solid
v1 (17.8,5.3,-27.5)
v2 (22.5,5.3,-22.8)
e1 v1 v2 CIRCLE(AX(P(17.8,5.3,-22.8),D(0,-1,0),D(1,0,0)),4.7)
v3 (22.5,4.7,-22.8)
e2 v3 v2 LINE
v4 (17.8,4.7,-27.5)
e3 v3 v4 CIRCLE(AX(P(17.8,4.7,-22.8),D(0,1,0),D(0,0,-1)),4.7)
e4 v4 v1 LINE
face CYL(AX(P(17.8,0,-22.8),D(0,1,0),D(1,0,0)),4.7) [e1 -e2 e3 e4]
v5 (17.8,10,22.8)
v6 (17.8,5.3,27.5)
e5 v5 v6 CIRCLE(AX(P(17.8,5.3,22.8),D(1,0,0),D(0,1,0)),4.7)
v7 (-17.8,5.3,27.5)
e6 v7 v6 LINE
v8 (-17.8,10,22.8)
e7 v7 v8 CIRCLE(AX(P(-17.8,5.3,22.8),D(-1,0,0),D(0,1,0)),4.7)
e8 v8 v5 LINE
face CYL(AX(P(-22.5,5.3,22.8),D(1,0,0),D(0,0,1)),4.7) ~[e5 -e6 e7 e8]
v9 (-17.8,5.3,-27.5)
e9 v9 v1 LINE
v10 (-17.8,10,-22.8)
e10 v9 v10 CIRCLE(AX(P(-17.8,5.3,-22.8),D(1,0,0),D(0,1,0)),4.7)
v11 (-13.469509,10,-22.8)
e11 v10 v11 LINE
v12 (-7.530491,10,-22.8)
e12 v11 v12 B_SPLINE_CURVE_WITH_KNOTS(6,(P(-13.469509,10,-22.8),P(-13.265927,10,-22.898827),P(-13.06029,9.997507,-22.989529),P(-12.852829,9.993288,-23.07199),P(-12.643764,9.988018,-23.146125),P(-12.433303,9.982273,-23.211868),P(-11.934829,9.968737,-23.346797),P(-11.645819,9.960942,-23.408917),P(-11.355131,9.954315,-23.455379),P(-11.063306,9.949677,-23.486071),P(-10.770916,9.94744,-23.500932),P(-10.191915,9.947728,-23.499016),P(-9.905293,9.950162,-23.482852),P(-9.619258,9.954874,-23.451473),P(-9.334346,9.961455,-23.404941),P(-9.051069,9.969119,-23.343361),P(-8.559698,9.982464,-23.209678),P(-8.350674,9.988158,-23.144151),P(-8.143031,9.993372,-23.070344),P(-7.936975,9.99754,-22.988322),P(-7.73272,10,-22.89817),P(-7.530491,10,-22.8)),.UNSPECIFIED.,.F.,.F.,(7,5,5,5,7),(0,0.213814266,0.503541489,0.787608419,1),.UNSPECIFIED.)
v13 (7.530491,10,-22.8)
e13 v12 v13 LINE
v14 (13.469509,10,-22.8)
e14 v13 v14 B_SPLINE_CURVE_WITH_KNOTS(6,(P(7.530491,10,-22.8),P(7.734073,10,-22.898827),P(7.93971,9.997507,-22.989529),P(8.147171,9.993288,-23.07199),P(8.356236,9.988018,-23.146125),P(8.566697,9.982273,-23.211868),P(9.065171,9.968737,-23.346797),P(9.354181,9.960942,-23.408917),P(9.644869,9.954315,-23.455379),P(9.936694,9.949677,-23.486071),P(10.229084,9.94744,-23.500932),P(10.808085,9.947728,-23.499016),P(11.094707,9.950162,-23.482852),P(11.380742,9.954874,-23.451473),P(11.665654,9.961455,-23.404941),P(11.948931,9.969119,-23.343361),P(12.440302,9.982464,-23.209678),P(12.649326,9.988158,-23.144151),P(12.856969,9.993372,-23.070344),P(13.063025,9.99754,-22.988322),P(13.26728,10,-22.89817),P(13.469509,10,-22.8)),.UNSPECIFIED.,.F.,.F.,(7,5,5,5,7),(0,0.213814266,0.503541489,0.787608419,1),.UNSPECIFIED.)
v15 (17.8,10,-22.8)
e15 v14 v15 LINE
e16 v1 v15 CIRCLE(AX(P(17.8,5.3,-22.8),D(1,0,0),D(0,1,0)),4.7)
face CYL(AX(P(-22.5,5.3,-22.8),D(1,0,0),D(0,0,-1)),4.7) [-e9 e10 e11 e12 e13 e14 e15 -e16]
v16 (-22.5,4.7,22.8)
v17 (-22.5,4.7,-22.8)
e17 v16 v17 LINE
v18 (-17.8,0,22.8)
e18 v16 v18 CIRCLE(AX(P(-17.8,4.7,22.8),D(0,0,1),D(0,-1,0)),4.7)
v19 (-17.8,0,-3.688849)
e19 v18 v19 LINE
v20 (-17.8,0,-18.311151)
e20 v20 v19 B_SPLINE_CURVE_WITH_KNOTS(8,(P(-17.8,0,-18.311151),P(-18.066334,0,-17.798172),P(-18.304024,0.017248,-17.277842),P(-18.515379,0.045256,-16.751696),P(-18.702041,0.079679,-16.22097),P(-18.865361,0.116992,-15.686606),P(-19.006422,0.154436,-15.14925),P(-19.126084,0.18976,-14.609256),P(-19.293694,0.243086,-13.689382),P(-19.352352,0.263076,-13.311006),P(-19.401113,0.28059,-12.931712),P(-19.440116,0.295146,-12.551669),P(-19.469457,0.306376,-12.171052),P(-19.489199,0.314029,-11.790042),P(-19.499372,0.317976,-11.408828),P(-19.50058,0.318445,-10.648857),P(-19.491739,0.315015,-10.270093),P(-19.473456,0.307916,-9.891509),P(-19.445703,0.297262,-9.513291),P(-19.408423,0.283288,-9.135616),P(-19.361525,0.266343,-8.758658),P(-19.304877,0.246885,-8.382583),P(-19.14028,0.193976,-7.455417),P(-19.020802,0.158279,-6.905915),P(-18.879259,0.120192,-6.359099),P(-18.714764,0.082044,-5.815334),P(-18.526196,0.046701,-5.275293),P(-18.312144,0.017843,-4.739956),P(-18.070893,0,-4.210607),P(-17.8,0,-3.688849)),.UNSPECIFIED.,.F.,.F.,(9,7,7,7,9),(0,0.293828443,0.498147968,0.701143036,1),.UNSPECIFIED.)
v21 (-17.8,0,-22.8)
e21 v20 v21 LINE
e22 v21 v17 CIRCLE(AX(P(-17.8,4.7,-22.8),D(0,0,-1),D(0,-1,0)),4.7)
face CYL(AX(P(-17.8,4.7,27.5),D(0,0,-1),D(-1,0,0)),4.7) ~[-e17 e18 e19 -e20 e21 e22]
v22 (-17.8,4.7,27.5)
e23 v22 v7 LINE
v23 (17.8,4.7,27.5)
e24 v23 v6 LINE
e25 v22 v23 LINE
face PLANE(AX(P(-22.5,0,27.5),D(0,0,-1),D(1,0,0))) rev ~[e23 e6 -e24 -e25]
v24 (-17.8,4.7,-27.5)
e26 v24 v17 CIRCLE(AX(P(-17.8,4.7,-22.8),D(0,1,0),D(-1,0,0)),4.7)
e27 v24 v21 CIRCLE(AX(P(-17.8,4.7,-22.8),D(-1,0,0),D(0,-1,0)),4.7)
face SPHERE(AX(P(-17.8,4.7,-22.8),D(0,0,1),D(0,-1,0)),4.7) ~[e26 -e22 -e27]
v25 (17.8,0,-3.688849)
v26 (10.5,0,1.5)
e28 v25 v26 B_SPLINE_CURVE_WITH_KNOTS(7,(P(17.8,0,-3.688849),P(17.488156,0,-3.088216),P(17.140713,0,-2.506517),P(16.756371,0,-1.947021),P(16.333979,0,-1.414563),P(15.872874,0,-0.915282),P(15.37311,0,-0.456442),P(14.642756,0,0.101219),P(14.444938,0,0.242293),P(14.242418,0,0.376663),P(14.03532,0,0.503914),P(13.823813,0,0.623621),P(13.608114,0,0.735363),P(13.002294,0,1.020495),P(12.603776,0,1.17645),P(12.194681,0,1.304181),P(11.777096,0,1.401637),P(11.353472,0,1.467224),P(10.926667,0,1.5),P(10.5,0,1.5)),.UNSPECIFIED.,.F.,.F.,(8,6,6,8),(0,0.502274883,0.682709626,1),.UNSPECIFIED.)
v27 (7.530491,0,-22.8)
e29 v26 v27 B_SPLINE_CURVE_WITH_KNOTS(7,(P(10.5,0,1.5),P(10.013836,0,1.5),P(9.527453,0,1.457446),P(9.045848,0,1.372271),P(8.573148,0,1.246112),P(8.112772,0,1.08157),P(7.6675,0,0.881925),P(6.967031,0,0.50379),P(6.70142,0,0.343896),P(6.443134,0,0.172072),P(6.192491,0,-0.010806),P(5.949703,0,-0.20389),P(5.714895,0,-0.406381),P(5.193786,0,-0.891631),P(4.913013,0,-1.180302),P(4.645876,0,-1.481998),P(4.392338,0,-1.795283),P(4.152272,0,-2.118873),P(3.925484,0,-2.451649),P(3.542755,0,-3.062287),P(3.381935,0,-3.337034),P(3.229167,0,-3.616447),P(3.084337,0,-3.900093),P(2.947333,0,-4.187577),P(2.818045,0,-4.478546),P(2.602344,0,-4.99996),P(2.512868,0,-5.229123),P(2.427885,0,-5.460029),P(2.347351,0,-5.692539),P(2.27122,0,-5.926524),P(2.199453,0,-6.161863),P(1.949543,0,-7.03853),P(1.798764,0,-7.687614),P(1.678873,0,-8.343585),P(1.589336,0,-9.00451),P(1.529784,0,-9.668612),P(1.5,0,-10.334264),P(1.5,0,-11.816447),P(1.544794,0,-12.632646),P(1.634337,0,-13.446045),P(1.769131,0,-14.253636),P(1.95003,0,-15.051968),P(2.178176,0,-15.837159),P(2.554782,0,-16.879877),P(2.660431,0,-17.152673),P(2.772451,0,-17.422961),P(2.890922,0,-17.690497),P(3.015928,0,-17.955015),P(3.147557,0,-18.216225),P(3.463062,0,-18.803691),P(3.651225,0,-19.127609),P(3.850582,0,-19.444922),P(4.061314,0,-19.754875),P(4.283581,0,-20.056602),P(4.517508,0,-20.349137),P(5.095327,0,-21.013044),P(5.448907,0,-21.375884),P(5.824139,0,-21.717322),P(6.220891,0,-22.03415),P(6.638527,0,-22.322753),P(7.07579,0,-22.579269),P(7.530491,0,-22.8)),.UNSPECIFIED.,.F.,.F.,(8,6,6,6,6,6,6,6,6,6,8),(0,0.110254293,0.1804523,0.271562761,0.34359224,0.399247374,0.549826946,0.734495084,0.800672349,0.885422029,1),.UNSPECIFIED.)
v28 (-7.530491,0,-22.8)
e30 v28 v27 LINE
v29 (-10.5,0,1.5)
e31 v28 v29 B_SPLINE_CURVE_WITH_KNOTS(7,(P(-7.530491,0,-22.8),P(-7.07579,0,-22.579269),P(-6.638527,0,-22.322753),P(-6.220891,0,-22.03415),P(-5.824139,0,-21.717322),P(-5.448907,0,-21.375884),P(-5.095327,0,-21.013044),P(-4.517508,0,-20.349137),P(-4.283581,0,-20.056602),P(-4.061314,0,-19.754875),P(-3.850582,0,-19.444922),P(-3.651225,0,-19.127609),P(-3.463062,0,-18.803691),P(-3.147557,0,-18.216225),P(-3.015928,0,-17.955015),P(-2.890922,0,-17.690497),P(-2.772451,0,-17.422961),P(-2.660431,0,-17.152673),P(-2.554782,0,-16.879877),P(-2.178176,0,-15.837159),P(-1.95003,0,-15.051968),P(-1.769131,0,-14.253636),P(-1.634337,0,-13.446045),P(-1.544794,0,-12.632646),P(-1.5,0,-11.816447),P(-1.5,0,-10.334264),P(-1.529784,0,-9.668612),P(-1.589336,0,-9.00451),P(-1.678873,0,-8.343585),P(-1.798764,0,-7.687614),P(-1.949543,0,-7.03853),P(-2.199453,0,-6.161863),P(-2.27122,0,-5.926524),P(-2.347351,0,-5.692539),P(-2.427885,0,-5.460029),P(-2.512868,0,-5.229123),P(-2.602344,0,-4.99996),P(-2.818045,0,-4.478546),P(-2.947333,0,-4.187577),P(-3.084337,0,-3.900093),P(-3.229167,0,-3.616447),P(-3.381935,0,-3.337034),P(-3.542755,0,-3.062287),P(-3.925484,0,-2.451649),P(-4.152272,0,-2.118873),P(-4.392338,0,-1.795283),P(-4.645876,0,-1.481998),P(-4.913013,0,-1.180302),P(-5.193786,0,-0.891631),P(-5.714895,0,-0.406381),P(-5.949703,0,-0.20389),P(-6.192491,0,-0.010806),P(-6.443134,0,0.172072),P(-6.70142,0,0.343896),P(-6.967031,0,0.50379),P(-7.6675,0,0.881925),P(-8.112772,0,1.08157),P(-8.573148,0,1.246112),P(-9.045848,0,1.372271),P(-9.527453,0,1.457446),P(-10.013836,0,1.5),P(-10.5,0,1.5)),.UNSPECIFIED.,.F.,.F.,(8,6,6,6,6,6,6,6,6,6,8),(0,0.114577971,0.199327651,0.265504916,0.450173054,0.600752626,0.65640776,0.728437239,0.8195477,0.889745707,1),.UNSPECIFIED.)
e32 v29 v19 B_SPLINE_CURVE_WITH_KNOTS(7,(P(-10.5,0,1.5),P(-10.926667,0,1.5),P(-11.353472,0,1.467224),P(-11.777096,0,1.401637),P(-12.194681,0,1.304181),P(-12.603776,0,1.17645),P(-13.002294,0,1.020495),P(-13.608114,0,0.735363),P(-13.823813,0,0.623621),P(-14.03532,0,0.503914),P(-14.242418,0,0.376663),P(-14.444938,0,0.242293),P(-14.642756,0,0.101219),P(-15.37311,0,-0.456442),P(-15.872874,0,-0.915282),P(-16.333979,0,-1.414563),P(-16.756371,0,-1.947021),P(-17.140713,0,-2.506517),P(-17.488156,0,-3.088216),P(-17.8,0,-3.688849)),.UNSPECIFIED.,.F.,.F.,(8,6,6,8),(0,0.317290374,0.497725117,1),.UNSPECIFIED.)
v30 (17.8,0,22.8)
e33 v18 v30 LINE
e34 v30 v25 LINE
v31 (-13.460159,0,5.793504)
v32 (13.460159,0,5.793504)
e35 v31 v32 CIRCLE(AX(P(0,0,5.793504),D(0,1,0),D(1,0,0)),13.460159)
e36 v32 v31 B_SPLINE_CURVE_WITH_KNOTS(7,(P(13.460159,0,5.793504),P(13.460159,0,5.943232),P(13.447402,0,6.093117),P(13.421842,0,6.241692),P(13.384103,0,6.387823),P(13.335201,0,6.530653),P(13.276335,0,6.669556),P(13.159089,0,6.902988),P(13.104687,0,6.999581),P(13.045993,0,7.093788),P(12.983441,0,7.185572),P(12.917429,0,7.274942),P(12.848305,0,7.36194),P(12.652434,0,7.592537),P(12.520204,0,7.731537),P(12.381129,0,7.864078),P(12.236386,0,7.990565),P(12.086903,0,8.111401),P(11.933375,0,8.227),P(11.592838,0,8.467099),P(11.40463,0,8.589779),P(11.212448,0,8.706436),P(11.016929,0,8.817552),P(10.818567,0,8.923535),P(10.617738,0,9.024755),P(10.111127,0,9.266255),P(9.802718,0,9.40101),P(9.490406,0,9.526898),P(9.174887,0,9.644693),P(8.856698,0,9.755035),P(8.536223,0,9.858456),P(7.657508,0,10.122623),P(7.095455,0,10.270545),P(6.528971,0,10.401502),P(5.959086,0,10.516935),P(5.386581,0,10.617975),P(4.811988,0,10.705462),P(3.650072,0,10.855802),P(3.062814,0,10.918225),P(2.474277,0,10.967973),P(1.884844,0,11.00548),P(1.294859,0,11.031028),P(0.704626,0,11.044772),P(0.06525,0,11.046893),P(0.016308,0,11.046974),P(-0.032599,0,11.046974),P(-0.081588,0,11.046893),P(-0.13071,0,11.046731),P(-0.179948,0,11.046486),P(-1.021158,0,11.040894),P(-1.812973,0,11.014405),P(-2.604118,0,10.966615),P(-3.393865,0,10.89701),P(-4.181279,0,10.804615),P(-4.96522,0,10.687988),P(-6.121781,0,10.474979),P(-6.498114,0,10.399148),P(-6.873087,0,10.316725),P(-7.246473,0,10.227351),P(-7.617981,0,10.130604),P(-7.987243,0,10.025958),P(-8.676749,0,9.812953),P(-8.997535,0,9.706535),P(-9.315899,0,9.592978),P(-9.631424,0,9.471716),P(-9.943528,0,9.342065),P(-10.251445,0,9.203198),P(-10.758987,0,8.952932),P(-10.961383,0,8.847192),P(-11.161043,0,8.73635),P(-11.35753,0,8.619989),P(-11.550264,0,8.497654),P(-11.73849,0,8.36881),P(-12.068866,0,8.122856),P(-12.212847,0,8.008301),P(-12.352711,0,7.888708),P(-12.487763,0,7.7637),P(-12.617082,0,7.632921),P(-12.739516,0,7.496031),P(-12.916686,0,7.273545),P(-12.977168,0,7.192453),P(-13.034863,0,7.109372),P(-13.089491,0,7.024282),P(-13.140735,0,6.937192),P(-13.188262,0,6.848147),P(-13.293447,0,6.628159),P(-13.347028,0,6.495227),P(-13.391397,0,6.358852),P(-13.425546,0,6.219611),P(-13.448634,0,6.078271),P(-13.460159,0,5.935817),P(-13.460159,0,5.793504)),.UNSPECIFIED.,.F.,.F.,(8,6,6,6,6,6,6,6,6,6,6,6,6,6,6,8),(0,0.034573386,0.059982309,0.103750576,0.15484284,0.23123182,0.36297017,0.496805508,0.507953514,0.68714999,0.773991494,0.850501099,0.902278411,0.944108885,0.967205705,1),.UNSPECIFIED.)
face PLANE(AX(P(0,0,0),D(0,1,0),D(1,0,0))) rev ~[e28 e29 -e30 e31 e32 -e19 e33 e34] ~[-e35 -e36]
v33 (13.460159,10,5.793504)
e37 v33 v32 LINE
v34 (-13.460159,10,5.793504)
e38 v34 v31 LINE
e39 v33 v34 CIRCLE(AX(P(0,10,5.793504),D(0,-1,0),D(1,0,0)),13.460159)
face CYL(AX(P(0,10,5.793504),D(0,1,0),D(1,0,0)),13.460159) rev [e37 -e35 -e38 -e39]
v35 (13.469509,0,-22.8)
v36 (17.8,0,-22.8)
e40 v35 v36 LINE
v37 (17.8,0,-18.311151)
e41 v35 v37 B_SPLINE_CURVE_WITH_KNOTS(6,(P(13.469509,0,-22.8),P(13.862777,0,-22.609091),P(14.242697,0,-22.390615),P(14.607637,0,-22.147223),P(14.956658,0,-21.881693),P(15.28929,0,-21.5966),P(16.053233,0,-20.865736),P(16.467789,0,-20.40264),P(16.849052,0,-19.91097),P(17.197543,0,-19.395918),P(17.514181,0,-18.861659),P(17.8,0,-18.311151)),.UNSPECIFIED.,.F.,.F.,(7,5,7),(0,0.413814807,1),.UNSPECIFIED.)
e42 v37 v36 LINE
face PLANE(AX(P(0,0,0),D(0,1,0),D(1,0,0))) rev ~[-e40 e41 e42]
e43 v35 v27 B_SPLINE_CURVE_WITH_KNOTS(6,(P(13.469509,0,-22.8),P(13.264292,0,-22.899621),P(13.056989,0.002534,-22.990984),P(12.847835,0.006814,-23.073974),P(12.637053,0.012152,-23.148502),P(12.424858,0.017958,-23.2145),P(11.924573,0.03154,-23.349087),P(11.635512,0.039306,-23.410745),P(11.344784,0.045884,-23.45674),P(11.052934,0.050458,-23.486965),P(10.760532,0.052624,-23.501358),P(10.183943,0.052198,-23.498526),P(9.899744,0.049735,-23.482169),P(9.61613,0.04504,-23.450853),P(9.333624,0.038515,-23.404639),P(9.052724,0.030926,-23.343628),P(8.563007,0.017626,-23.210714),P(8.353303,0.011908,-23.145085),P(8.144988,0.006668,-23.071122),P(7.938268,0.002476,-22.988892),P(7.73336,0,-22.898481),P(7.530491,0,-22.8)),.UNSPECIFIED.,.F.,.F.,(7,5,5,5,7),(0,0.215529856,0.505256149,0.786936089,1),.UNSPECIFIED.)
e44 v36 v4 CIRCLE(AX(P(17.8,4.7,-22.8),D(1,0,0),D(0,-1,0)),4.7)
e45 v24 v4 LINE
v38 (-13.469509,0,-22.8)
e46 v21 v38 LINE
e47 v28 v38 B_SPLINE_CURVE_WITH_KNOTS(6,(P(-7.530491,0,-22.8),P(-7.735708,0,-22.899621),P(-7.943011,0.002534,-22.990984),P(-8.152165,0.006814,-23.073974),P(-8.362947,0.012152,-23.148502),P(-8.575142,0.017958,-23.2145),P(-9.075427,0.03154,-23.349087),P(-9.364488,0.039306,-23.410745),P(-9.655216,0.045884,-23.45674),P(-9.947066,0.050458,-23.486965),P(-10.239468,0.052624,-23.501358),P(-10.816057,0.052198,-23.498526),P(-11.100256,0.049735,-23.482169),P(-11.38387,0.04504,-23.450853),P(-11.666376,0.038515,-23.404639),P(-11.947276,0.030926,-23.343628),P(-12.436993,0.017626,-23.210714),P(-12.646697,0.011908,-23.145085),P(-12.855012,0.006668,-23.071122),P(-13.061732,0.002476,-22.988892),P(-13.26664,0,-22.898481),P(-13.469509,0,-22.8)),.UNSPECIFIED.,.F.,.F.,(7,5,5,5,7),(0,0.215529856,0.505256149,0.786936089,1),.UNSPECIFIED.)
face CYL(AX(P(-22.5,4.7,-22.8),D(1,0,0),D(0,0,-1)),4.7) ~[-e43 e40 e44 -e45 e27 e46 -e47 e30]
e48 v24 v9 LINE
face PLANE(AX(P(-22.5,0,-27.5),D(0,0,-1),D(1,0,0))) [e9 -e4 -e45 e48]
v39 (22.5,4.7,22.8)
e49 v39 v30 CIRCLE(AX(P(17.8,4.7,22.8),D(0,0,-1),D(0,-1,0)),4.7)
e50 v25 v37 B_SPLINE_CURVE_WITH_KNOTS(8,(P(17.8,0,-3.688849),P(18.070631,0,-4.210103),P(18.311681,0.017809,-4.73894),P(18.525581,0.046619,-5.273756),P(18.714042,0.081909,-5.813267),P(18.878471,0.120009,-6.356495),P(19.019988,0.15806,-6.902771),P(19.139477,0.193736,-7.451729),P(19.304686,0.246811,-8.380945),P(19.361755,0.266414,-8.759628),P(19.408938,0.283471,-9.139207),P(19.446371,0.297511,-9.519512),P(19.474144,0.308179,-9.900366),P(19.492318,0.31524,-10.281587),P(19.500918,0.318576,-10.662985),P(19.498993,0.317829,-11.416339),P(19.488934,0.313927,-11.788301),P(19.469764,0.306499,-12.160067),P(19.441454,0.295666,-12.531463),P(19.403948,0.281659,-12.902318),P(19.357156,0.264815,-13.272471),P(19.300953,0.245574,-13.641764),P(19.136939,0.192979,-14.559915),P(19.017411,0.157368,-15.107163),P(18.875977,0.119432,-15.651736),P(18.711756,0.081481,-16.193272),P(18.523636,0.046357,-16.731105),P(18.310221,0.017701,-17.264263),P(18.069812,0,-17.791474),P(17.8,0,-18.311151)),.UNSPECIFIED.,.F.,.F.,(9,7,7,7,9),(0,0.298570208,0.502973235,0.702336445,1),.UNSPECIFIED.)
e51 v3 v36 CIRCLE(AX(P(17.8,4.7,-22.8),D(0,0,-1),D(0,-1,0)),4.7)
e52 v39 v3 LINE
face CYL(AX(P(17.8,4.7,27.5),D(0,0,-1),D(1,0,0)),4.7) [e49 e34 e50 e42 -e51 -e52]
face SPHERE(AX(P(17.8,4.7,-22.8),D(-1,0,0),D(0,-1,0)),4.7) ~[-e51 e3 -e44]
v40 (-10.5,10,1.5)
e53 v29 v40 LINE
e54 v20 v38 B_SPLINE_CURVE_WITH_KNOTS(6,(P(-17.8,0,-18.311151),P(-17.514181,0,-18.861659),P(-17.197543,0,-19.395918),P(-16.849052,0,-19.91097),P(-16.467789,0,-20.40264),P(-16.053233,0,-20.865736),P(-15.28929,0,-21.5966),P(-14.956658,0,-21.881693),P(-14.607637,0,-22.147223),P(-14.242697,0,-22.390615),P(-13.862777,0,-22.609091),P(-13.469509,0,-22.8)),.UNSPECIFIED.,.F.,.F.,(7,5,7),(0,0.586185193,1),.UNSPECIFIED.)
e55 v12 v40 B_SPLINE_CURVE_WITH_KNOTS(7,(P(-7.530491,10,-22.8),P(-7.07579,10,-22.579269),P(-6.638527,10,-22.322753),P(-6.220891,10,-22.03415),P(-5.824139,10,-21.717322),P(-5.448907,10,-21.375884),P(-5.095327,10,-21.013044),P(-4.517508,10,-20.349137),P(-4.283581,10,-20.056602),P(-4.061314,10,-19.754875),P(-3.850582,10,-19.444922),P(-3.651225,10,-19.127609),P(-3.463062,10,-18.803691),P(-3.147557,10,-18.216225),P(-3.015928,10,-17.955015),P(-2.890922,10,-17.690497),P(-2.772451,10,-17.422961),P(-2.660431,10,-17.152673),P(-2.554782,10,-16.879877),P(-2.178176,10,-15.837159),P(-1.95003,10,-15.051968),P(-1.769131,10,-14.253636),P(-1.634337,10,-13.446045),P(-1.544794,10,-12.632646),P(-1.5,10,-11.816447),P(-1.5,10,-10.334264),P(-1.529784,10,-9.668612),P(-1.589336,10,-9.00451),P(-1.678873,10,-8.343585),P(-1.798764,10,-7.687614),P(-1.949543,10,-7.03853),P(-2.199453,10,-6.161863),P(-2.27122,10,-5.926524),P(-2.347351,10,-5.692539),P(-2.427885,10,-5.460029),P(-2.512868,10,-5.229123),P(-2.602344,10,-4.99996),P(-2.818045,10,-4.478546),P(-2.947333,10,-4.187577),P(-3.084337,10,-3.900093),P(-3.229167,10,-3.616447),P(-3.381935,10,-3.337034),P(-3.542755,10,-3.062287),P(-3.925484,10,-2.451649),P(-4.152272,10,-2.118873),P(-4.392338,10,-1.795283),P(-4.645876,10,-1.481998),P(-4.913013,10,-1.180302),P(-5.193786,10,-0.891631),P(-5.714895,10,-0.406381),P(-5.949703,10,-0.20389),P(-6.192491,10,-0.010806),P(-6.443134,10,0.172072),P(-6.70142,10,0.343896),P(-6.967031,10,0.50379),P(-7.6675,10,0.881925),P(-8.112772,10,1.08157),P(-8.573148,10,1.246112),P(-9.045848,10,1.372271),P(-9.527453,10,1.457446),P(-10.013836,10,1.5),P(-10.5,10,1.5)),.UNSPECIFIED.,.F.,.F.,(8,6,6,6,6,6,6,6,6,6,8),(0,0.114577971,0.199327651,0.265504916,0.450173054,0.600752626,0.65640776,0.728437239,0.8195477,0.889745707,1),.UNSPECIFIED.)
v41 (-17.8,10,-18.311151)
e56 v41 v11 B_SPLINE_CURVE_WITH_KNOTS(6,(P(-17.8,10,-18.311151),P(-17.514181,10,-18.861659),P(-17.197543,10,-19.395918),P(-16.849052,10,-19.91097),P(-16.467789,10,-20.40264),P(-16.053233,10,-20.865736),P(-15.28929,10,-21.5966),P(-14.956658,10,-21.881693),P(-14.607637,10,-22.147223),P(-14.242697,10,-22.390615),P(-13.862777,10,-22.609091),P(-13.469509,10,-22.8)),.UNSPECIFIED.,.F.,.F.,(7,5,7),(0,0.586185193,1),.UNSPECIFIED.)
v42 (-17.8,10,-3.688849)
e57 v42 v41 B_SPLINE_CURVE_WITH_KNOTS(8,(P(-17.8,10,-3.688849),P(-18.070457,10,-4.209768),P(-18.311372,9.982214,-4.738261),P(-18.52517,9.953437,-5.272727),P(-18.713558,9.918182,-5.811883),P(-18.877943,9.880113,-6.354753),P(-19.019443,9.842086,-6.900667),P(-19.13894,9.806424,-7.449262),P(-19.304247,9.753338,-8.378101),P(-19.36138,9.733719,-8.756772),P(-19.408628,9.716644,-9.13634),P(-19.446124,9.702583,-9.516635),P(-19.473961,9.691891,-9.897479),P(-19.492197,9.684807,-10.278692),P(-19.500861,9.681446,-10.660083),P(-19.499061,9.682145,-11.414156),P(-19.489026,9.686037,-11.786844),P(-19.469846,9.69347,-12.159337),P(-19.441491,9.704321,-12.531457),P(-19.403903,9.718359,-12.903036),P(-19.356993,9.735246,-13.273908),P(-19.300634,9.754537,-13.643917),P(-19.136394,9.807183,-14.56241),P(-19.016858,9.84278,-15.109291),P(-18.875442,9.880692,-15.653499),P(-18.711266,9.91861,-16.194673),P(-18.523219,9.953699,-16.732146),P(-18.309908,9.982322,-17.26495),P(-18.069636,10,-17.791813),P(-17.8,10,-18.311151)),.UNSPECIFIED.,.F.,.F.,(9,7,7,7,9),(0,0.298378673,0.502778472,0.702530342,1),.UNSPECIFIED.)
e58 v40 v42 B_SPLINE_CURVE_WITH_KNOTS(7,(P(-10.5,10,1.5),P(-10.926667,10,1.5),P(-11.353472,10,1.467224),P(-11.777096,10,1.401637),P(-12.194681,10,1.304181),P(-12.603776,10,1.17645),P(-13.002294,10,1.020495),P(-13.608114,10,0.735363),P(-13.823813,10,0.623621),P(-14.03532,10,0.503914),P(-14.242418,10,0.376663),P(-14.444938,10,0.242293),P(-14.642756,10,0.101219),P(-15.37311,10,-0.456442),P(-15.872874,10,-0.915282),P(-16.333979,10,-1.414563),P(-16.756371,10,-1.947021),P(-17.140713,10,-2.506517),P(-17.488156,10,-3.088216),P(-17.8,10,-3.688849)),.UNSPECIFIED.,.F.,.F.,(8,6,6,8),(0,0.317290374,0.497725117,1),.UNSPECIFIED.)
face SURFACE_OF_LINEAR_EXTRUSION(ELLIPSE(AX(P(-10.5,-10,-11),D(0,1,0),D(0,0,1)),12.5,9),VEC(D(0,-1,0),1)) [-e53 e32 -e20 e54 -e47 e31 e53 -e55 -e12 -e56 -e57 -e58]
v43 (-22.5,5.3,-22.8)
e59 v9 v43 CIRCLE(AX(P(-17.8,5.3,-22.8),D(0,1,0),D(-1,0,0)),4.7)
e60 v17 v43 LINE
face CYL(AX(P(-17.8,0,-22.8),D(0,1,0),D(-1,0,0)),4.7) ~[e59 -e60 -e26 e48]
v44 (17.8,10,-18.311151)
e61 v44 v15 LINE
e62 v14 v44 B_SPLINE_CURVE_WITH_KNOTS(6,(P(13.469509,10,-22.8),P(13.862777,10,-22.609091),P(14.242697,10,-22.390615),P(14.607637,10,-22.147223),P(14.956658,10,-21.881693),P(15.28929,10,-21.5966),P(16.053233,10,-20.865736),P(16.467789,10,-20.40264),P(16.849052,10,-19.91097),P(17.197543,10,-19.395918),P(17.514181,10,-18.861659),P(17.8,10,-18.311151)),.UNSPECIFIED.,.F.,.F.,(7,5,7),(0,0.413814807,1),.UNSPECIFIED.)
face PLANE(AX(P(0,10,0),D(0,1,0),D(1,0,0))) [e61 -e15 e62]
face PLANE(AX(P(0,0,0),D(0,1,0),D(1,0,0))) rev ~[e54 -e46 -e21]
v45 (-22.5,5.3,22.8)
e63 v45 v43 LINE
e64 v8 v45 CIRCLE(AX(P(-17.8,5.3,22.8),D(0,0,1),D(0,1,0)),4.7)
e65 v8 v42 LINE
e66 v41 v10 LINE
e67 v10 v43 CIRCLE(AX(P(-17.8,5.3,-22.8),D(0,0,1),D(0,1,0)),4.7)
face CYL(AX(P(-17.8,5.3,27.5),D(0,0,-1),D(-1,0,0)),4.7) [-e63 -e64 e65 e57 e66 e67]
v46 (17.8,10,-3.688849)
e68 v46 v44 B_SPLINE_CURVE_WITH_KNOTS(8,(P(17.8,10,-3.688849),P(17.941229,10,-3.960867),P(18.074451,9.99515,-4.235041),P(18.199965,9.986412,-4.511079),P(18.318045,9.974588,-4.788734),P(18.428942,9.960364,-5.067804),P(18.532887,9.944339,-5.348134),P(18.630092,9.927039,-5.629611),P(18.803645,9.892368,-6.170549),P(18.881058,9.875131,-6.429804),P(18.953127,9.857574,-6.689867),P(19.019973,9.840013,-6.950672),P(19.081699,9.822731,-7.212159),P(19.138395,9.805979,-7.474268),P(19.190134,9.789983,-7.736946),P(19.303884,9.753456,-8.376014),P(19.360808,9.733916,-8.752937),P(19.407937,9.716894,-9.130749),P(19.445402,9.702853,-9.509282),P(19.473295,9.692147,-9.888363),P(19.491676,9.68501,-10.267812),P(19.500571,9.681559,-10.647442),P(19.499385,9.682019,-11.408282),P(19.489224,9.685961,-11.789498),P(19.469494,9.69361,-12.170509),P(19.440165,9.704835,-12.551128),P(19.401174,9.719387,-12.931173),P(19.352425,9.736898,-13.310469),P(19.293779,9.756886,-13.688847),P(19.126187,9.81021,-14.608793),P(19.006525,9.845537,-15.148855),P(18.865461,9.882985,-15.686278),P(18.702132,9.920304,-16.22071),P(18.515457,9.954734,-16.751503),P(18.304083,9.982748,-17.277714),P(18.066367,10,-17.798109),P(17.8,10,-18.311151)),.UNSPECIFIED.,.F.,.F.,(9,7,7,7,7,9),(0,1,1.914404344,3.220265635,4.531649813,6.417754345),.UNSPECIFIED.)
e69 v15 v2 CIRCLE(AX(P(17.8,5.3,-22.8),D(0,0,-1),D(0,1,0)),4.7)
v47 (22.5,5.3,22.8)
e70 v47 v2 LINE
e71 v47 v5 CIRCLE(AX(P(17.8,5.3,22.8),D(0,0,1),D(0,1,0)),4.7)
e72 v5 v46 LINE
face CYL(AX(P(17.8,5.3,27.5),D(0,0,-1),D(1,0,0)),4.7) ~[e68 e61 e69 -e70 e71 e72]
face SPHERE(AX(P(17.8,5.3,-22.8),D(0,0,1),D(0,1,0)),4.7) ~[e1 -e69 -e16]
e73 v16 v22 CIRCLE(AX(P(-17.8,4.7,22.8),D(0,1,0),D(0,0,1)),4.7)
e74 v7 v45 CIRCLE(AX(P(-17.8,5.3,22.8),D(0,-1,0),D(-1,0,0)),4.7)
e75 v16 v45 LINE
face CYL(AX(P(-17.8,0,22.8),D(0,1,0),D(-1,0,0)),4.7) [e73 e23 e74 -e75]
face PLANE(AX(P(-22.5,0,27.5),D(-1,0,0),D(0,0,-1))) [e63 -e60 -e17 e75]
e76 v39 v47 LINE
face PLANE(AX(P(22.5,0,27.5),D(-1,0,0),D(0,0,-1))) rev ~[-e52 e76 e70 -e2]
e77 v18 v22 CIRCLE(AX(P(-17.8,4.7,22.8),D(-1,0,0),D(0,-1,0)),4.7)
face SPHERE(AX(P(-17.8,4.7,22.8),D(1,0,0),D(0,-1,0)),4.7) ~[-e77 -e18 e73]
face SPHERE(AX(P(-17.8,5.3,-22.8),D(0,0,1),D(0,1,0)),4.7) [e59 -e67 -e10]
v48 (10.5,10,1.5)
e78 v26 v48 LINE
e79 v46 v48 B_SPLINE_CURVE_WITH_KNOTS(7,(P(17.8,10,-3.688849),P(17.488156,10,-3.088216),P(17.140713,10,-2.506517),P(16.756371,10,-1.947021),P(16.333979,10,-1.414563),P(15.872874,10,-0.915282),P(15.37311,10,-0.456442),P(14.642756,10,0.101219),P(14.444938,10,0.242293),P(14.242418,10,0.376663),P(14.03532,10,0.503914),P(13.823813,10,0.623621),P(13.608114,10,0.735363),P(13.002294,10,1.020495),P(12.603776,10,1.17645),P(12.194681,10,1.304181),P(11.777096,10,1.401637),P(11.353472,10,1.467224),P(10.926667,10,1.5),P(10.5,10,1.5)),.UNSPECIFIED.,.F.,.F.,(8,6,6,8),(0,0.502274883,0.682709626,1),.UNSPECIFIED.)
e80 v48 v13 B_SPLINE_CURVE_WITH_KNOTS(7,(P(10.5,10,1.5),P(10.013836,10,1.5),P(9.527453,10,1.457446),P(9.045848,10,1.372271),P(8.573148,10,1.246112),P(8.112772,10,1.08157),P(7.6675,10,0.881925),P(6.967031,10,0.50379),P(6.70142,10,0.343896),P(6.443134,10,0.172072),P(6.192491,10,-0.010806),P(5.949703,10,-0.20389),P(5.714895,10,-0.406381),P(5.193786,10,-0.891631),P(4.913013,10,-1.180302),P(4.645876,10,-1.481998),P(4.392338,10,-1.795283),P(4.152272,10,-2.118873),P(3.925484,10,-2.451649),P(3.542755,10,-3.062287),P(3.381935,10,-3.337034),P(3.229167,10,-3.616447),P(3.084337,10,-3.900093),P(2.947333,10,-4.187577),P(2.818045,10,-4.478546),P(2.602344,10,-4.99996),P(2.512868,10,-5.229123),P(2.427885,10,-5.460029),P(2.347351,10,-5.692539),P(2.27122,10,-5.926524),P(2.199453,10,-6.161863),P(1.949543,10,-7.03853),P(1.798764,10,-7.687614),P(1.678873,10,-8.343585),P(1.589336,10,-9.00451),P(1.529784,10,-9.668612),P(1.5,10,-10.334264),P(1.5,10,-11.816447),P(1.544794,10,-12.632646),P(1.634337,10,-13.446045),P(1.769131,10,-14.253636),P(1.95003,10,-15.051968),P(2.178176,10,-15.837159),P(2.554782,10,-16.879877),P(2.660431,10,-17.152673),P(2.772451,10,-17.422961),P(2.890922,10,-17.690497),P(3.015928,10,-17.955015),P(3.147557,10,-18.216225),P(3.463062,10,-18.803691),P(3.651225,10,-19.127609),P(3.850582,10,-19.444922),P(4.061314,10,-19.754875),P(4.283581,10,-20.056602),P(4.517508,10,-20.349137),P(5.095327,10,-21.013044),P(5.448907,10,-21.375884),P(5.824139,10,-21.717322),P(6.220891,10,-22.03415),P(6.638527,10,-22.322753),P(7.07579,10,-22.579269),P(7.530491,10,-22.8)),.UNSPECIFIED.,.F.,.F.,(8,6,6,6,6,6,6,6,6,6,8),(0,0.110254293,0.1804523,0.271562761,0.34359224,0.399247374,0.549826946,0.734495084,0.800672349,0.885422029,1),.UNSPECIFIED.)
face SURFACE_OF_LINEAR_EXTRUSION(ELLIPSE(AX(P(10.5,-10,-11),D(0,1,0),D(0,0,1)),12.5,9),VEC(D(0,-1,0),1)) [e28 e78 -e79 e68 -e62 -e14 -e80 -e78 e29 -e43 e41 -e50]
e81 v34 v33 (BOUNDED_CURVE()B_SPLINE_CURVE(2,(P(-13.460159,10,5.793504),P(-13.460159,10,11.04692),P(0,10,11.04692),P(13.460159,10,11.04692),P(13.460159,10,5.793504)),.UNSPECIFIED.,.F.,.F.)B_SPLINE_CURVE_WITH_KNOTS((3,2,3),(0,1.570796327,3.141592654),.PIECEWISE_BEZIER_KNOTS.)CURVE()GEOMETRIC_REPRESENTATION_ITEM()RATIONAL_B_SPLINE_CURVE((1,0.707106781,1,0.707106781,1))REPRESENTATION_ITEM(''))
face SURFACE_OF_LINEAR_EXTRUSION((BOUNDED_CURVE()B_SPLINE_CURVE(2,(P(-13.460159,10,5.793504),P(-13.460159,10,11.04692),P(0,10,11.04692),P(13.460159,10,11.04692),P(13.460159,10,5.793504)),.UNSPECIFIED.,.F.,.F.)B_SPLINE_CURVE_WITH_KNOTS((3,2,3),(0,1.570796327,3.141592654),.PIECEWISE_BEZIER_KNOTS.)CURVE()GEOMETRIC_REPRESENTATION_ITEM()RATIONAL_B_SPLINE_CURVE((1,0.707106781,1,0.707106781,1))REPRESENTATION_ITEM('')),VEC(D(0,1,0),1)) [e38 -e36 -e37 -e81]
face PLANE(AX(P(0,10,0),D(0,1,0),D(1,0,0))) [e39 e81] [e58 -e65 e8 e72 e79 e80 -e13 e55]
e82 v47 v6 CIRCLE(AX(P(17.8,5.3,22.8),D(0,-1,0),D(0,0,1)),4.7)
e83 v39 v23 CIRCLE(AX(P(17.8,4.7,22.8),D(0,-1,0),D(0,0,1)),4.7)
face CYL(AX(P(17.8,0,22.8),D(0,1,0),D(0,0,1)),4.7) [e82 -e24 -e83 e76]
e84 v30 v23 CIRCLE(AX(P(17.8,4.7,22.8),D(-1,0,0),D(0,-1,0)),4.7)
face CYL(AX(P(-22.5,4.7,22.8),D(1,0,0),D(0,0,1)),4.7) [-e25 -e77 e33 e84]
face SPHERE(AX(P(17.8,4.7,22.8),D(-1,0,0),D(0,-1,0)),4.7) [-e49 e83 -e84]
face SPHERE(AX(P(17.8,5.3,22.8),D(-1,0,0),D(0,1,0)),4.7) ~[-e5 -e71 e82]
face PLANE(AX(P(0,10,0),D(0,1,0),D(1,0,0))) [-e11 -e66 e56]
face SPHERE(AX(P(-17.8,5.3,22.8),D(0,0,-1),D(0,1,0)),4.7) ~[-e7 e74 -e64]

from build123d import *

# Parameters (mm, degrees)
SCHIZZO1_W                    = 45
SCHIZZO1_H                    = 55
ESTRUSIONE_ESTRUSIONE1_DEPTH  = 10
RACCORDO1_R                   = 4.7
TAGLIO_ESTRUSIONE3_DEPTH      = 20
TAGLIO_ESTRUSIONE3_DEPTH_BACK = 20
SCHIZZO3_RX                   = 12.5
SCHIZZO3_RY                   = 9
TAGLIO_ESTRUSIONE4_DEPTH      = 20


with BuildPart() as part:
    # Schizzo1 → Estrusione-Estrusione1 (new body)
    with BuildSketch(Plane(origin=(0, 0, 0), x_dir=(1, 0, 0), z_dir=(0, 1, 0))):
        Rectangle(SCHIZZO1_W, SCHIZZO1_H)
    extrude(amount=ESTRUSIONE_ESTRUSIONE1_DEPTH)

    # Raccordo1
    raccordo1_edges = [part.edges().sort_by_distance(p)[0] for p in [
        (-22.5, 10, 0),
        (0, 10, 27.5),
        (22.5, 10, 0),
        (0, 0, 27.5),
        (-22.5, 0, 0),
        (0, 0, -27.5),
        (22.5, 0, 0),
        (0, 10, -27.5),
        (22.5, 5, 27.5),
        (-22.5, 5, 27.5),
        (-22.5, 5, -27.5),
        (22.5, 5, -27.5),
    ]]
    fillet(raccordo1_edges, radius=RACCORDO1_R)

    # Schizzo3 → Taglio-Estrusione3 (cut, two sides: drawn at the far end of the back side and taken through both)
    with BuildSketch(Plane(origin=(0, 10, 0), x_dir=(1, 0, 0), z_dir=(0, 1, 0)).offset(-TAGLIO_ESTRUSIONE3_DEPTH_BACK)):
        with Locations(Location((-10.5, 11), (0, 0, -90))):
            Ellipse(SCHIZZO3_RX, SCHIZZO3_RY)
        with Locations(Location((10.5, 11), (0, 0, -90))):
            Ellipse(SCHIZZO3_RX, SCHIZZO3_RY)
    extrude(amount=TAGLIO_ESTRUSIONE3_DEPTH + TAGLIO_ESTRUSIONE3_DEPTH_BACK, mode=Mode.SUBTRACT)

    # Schizzo4 → Taglio-Estrusione4 (cut)
    with BuildSketch(Plane(origin=(0, 10, 0), x_dir=(1, 0, 0), z_dir=(0, 1, 0))):
        with BuildLine():
            ThreePointArc((13.460158557, -5.793503536), (0, -19.253662092), (-13.460158557, -5.793503536))
            add(Edge.make_bspline(
                [(-13.460158557, -5.793503536), (-13.460158557, -11.046920102), (0, -11.046920102), (13.460158557, -11.046920102), (13.460158557, -5.793503536)],
                knots=[0, 0, 0, 1.570796327, 1.570796327, 3.141592654, 3.141592654, 3.141592654], degree=2, weights=[1, 0.707106781, 1, 0.707106781, 1]))
        make_face()
    extrude(amount=-TAGLIO_ESTRUSIONE4_DEPTH, mode=Mode.SUBTRACT)


solid = part.part
